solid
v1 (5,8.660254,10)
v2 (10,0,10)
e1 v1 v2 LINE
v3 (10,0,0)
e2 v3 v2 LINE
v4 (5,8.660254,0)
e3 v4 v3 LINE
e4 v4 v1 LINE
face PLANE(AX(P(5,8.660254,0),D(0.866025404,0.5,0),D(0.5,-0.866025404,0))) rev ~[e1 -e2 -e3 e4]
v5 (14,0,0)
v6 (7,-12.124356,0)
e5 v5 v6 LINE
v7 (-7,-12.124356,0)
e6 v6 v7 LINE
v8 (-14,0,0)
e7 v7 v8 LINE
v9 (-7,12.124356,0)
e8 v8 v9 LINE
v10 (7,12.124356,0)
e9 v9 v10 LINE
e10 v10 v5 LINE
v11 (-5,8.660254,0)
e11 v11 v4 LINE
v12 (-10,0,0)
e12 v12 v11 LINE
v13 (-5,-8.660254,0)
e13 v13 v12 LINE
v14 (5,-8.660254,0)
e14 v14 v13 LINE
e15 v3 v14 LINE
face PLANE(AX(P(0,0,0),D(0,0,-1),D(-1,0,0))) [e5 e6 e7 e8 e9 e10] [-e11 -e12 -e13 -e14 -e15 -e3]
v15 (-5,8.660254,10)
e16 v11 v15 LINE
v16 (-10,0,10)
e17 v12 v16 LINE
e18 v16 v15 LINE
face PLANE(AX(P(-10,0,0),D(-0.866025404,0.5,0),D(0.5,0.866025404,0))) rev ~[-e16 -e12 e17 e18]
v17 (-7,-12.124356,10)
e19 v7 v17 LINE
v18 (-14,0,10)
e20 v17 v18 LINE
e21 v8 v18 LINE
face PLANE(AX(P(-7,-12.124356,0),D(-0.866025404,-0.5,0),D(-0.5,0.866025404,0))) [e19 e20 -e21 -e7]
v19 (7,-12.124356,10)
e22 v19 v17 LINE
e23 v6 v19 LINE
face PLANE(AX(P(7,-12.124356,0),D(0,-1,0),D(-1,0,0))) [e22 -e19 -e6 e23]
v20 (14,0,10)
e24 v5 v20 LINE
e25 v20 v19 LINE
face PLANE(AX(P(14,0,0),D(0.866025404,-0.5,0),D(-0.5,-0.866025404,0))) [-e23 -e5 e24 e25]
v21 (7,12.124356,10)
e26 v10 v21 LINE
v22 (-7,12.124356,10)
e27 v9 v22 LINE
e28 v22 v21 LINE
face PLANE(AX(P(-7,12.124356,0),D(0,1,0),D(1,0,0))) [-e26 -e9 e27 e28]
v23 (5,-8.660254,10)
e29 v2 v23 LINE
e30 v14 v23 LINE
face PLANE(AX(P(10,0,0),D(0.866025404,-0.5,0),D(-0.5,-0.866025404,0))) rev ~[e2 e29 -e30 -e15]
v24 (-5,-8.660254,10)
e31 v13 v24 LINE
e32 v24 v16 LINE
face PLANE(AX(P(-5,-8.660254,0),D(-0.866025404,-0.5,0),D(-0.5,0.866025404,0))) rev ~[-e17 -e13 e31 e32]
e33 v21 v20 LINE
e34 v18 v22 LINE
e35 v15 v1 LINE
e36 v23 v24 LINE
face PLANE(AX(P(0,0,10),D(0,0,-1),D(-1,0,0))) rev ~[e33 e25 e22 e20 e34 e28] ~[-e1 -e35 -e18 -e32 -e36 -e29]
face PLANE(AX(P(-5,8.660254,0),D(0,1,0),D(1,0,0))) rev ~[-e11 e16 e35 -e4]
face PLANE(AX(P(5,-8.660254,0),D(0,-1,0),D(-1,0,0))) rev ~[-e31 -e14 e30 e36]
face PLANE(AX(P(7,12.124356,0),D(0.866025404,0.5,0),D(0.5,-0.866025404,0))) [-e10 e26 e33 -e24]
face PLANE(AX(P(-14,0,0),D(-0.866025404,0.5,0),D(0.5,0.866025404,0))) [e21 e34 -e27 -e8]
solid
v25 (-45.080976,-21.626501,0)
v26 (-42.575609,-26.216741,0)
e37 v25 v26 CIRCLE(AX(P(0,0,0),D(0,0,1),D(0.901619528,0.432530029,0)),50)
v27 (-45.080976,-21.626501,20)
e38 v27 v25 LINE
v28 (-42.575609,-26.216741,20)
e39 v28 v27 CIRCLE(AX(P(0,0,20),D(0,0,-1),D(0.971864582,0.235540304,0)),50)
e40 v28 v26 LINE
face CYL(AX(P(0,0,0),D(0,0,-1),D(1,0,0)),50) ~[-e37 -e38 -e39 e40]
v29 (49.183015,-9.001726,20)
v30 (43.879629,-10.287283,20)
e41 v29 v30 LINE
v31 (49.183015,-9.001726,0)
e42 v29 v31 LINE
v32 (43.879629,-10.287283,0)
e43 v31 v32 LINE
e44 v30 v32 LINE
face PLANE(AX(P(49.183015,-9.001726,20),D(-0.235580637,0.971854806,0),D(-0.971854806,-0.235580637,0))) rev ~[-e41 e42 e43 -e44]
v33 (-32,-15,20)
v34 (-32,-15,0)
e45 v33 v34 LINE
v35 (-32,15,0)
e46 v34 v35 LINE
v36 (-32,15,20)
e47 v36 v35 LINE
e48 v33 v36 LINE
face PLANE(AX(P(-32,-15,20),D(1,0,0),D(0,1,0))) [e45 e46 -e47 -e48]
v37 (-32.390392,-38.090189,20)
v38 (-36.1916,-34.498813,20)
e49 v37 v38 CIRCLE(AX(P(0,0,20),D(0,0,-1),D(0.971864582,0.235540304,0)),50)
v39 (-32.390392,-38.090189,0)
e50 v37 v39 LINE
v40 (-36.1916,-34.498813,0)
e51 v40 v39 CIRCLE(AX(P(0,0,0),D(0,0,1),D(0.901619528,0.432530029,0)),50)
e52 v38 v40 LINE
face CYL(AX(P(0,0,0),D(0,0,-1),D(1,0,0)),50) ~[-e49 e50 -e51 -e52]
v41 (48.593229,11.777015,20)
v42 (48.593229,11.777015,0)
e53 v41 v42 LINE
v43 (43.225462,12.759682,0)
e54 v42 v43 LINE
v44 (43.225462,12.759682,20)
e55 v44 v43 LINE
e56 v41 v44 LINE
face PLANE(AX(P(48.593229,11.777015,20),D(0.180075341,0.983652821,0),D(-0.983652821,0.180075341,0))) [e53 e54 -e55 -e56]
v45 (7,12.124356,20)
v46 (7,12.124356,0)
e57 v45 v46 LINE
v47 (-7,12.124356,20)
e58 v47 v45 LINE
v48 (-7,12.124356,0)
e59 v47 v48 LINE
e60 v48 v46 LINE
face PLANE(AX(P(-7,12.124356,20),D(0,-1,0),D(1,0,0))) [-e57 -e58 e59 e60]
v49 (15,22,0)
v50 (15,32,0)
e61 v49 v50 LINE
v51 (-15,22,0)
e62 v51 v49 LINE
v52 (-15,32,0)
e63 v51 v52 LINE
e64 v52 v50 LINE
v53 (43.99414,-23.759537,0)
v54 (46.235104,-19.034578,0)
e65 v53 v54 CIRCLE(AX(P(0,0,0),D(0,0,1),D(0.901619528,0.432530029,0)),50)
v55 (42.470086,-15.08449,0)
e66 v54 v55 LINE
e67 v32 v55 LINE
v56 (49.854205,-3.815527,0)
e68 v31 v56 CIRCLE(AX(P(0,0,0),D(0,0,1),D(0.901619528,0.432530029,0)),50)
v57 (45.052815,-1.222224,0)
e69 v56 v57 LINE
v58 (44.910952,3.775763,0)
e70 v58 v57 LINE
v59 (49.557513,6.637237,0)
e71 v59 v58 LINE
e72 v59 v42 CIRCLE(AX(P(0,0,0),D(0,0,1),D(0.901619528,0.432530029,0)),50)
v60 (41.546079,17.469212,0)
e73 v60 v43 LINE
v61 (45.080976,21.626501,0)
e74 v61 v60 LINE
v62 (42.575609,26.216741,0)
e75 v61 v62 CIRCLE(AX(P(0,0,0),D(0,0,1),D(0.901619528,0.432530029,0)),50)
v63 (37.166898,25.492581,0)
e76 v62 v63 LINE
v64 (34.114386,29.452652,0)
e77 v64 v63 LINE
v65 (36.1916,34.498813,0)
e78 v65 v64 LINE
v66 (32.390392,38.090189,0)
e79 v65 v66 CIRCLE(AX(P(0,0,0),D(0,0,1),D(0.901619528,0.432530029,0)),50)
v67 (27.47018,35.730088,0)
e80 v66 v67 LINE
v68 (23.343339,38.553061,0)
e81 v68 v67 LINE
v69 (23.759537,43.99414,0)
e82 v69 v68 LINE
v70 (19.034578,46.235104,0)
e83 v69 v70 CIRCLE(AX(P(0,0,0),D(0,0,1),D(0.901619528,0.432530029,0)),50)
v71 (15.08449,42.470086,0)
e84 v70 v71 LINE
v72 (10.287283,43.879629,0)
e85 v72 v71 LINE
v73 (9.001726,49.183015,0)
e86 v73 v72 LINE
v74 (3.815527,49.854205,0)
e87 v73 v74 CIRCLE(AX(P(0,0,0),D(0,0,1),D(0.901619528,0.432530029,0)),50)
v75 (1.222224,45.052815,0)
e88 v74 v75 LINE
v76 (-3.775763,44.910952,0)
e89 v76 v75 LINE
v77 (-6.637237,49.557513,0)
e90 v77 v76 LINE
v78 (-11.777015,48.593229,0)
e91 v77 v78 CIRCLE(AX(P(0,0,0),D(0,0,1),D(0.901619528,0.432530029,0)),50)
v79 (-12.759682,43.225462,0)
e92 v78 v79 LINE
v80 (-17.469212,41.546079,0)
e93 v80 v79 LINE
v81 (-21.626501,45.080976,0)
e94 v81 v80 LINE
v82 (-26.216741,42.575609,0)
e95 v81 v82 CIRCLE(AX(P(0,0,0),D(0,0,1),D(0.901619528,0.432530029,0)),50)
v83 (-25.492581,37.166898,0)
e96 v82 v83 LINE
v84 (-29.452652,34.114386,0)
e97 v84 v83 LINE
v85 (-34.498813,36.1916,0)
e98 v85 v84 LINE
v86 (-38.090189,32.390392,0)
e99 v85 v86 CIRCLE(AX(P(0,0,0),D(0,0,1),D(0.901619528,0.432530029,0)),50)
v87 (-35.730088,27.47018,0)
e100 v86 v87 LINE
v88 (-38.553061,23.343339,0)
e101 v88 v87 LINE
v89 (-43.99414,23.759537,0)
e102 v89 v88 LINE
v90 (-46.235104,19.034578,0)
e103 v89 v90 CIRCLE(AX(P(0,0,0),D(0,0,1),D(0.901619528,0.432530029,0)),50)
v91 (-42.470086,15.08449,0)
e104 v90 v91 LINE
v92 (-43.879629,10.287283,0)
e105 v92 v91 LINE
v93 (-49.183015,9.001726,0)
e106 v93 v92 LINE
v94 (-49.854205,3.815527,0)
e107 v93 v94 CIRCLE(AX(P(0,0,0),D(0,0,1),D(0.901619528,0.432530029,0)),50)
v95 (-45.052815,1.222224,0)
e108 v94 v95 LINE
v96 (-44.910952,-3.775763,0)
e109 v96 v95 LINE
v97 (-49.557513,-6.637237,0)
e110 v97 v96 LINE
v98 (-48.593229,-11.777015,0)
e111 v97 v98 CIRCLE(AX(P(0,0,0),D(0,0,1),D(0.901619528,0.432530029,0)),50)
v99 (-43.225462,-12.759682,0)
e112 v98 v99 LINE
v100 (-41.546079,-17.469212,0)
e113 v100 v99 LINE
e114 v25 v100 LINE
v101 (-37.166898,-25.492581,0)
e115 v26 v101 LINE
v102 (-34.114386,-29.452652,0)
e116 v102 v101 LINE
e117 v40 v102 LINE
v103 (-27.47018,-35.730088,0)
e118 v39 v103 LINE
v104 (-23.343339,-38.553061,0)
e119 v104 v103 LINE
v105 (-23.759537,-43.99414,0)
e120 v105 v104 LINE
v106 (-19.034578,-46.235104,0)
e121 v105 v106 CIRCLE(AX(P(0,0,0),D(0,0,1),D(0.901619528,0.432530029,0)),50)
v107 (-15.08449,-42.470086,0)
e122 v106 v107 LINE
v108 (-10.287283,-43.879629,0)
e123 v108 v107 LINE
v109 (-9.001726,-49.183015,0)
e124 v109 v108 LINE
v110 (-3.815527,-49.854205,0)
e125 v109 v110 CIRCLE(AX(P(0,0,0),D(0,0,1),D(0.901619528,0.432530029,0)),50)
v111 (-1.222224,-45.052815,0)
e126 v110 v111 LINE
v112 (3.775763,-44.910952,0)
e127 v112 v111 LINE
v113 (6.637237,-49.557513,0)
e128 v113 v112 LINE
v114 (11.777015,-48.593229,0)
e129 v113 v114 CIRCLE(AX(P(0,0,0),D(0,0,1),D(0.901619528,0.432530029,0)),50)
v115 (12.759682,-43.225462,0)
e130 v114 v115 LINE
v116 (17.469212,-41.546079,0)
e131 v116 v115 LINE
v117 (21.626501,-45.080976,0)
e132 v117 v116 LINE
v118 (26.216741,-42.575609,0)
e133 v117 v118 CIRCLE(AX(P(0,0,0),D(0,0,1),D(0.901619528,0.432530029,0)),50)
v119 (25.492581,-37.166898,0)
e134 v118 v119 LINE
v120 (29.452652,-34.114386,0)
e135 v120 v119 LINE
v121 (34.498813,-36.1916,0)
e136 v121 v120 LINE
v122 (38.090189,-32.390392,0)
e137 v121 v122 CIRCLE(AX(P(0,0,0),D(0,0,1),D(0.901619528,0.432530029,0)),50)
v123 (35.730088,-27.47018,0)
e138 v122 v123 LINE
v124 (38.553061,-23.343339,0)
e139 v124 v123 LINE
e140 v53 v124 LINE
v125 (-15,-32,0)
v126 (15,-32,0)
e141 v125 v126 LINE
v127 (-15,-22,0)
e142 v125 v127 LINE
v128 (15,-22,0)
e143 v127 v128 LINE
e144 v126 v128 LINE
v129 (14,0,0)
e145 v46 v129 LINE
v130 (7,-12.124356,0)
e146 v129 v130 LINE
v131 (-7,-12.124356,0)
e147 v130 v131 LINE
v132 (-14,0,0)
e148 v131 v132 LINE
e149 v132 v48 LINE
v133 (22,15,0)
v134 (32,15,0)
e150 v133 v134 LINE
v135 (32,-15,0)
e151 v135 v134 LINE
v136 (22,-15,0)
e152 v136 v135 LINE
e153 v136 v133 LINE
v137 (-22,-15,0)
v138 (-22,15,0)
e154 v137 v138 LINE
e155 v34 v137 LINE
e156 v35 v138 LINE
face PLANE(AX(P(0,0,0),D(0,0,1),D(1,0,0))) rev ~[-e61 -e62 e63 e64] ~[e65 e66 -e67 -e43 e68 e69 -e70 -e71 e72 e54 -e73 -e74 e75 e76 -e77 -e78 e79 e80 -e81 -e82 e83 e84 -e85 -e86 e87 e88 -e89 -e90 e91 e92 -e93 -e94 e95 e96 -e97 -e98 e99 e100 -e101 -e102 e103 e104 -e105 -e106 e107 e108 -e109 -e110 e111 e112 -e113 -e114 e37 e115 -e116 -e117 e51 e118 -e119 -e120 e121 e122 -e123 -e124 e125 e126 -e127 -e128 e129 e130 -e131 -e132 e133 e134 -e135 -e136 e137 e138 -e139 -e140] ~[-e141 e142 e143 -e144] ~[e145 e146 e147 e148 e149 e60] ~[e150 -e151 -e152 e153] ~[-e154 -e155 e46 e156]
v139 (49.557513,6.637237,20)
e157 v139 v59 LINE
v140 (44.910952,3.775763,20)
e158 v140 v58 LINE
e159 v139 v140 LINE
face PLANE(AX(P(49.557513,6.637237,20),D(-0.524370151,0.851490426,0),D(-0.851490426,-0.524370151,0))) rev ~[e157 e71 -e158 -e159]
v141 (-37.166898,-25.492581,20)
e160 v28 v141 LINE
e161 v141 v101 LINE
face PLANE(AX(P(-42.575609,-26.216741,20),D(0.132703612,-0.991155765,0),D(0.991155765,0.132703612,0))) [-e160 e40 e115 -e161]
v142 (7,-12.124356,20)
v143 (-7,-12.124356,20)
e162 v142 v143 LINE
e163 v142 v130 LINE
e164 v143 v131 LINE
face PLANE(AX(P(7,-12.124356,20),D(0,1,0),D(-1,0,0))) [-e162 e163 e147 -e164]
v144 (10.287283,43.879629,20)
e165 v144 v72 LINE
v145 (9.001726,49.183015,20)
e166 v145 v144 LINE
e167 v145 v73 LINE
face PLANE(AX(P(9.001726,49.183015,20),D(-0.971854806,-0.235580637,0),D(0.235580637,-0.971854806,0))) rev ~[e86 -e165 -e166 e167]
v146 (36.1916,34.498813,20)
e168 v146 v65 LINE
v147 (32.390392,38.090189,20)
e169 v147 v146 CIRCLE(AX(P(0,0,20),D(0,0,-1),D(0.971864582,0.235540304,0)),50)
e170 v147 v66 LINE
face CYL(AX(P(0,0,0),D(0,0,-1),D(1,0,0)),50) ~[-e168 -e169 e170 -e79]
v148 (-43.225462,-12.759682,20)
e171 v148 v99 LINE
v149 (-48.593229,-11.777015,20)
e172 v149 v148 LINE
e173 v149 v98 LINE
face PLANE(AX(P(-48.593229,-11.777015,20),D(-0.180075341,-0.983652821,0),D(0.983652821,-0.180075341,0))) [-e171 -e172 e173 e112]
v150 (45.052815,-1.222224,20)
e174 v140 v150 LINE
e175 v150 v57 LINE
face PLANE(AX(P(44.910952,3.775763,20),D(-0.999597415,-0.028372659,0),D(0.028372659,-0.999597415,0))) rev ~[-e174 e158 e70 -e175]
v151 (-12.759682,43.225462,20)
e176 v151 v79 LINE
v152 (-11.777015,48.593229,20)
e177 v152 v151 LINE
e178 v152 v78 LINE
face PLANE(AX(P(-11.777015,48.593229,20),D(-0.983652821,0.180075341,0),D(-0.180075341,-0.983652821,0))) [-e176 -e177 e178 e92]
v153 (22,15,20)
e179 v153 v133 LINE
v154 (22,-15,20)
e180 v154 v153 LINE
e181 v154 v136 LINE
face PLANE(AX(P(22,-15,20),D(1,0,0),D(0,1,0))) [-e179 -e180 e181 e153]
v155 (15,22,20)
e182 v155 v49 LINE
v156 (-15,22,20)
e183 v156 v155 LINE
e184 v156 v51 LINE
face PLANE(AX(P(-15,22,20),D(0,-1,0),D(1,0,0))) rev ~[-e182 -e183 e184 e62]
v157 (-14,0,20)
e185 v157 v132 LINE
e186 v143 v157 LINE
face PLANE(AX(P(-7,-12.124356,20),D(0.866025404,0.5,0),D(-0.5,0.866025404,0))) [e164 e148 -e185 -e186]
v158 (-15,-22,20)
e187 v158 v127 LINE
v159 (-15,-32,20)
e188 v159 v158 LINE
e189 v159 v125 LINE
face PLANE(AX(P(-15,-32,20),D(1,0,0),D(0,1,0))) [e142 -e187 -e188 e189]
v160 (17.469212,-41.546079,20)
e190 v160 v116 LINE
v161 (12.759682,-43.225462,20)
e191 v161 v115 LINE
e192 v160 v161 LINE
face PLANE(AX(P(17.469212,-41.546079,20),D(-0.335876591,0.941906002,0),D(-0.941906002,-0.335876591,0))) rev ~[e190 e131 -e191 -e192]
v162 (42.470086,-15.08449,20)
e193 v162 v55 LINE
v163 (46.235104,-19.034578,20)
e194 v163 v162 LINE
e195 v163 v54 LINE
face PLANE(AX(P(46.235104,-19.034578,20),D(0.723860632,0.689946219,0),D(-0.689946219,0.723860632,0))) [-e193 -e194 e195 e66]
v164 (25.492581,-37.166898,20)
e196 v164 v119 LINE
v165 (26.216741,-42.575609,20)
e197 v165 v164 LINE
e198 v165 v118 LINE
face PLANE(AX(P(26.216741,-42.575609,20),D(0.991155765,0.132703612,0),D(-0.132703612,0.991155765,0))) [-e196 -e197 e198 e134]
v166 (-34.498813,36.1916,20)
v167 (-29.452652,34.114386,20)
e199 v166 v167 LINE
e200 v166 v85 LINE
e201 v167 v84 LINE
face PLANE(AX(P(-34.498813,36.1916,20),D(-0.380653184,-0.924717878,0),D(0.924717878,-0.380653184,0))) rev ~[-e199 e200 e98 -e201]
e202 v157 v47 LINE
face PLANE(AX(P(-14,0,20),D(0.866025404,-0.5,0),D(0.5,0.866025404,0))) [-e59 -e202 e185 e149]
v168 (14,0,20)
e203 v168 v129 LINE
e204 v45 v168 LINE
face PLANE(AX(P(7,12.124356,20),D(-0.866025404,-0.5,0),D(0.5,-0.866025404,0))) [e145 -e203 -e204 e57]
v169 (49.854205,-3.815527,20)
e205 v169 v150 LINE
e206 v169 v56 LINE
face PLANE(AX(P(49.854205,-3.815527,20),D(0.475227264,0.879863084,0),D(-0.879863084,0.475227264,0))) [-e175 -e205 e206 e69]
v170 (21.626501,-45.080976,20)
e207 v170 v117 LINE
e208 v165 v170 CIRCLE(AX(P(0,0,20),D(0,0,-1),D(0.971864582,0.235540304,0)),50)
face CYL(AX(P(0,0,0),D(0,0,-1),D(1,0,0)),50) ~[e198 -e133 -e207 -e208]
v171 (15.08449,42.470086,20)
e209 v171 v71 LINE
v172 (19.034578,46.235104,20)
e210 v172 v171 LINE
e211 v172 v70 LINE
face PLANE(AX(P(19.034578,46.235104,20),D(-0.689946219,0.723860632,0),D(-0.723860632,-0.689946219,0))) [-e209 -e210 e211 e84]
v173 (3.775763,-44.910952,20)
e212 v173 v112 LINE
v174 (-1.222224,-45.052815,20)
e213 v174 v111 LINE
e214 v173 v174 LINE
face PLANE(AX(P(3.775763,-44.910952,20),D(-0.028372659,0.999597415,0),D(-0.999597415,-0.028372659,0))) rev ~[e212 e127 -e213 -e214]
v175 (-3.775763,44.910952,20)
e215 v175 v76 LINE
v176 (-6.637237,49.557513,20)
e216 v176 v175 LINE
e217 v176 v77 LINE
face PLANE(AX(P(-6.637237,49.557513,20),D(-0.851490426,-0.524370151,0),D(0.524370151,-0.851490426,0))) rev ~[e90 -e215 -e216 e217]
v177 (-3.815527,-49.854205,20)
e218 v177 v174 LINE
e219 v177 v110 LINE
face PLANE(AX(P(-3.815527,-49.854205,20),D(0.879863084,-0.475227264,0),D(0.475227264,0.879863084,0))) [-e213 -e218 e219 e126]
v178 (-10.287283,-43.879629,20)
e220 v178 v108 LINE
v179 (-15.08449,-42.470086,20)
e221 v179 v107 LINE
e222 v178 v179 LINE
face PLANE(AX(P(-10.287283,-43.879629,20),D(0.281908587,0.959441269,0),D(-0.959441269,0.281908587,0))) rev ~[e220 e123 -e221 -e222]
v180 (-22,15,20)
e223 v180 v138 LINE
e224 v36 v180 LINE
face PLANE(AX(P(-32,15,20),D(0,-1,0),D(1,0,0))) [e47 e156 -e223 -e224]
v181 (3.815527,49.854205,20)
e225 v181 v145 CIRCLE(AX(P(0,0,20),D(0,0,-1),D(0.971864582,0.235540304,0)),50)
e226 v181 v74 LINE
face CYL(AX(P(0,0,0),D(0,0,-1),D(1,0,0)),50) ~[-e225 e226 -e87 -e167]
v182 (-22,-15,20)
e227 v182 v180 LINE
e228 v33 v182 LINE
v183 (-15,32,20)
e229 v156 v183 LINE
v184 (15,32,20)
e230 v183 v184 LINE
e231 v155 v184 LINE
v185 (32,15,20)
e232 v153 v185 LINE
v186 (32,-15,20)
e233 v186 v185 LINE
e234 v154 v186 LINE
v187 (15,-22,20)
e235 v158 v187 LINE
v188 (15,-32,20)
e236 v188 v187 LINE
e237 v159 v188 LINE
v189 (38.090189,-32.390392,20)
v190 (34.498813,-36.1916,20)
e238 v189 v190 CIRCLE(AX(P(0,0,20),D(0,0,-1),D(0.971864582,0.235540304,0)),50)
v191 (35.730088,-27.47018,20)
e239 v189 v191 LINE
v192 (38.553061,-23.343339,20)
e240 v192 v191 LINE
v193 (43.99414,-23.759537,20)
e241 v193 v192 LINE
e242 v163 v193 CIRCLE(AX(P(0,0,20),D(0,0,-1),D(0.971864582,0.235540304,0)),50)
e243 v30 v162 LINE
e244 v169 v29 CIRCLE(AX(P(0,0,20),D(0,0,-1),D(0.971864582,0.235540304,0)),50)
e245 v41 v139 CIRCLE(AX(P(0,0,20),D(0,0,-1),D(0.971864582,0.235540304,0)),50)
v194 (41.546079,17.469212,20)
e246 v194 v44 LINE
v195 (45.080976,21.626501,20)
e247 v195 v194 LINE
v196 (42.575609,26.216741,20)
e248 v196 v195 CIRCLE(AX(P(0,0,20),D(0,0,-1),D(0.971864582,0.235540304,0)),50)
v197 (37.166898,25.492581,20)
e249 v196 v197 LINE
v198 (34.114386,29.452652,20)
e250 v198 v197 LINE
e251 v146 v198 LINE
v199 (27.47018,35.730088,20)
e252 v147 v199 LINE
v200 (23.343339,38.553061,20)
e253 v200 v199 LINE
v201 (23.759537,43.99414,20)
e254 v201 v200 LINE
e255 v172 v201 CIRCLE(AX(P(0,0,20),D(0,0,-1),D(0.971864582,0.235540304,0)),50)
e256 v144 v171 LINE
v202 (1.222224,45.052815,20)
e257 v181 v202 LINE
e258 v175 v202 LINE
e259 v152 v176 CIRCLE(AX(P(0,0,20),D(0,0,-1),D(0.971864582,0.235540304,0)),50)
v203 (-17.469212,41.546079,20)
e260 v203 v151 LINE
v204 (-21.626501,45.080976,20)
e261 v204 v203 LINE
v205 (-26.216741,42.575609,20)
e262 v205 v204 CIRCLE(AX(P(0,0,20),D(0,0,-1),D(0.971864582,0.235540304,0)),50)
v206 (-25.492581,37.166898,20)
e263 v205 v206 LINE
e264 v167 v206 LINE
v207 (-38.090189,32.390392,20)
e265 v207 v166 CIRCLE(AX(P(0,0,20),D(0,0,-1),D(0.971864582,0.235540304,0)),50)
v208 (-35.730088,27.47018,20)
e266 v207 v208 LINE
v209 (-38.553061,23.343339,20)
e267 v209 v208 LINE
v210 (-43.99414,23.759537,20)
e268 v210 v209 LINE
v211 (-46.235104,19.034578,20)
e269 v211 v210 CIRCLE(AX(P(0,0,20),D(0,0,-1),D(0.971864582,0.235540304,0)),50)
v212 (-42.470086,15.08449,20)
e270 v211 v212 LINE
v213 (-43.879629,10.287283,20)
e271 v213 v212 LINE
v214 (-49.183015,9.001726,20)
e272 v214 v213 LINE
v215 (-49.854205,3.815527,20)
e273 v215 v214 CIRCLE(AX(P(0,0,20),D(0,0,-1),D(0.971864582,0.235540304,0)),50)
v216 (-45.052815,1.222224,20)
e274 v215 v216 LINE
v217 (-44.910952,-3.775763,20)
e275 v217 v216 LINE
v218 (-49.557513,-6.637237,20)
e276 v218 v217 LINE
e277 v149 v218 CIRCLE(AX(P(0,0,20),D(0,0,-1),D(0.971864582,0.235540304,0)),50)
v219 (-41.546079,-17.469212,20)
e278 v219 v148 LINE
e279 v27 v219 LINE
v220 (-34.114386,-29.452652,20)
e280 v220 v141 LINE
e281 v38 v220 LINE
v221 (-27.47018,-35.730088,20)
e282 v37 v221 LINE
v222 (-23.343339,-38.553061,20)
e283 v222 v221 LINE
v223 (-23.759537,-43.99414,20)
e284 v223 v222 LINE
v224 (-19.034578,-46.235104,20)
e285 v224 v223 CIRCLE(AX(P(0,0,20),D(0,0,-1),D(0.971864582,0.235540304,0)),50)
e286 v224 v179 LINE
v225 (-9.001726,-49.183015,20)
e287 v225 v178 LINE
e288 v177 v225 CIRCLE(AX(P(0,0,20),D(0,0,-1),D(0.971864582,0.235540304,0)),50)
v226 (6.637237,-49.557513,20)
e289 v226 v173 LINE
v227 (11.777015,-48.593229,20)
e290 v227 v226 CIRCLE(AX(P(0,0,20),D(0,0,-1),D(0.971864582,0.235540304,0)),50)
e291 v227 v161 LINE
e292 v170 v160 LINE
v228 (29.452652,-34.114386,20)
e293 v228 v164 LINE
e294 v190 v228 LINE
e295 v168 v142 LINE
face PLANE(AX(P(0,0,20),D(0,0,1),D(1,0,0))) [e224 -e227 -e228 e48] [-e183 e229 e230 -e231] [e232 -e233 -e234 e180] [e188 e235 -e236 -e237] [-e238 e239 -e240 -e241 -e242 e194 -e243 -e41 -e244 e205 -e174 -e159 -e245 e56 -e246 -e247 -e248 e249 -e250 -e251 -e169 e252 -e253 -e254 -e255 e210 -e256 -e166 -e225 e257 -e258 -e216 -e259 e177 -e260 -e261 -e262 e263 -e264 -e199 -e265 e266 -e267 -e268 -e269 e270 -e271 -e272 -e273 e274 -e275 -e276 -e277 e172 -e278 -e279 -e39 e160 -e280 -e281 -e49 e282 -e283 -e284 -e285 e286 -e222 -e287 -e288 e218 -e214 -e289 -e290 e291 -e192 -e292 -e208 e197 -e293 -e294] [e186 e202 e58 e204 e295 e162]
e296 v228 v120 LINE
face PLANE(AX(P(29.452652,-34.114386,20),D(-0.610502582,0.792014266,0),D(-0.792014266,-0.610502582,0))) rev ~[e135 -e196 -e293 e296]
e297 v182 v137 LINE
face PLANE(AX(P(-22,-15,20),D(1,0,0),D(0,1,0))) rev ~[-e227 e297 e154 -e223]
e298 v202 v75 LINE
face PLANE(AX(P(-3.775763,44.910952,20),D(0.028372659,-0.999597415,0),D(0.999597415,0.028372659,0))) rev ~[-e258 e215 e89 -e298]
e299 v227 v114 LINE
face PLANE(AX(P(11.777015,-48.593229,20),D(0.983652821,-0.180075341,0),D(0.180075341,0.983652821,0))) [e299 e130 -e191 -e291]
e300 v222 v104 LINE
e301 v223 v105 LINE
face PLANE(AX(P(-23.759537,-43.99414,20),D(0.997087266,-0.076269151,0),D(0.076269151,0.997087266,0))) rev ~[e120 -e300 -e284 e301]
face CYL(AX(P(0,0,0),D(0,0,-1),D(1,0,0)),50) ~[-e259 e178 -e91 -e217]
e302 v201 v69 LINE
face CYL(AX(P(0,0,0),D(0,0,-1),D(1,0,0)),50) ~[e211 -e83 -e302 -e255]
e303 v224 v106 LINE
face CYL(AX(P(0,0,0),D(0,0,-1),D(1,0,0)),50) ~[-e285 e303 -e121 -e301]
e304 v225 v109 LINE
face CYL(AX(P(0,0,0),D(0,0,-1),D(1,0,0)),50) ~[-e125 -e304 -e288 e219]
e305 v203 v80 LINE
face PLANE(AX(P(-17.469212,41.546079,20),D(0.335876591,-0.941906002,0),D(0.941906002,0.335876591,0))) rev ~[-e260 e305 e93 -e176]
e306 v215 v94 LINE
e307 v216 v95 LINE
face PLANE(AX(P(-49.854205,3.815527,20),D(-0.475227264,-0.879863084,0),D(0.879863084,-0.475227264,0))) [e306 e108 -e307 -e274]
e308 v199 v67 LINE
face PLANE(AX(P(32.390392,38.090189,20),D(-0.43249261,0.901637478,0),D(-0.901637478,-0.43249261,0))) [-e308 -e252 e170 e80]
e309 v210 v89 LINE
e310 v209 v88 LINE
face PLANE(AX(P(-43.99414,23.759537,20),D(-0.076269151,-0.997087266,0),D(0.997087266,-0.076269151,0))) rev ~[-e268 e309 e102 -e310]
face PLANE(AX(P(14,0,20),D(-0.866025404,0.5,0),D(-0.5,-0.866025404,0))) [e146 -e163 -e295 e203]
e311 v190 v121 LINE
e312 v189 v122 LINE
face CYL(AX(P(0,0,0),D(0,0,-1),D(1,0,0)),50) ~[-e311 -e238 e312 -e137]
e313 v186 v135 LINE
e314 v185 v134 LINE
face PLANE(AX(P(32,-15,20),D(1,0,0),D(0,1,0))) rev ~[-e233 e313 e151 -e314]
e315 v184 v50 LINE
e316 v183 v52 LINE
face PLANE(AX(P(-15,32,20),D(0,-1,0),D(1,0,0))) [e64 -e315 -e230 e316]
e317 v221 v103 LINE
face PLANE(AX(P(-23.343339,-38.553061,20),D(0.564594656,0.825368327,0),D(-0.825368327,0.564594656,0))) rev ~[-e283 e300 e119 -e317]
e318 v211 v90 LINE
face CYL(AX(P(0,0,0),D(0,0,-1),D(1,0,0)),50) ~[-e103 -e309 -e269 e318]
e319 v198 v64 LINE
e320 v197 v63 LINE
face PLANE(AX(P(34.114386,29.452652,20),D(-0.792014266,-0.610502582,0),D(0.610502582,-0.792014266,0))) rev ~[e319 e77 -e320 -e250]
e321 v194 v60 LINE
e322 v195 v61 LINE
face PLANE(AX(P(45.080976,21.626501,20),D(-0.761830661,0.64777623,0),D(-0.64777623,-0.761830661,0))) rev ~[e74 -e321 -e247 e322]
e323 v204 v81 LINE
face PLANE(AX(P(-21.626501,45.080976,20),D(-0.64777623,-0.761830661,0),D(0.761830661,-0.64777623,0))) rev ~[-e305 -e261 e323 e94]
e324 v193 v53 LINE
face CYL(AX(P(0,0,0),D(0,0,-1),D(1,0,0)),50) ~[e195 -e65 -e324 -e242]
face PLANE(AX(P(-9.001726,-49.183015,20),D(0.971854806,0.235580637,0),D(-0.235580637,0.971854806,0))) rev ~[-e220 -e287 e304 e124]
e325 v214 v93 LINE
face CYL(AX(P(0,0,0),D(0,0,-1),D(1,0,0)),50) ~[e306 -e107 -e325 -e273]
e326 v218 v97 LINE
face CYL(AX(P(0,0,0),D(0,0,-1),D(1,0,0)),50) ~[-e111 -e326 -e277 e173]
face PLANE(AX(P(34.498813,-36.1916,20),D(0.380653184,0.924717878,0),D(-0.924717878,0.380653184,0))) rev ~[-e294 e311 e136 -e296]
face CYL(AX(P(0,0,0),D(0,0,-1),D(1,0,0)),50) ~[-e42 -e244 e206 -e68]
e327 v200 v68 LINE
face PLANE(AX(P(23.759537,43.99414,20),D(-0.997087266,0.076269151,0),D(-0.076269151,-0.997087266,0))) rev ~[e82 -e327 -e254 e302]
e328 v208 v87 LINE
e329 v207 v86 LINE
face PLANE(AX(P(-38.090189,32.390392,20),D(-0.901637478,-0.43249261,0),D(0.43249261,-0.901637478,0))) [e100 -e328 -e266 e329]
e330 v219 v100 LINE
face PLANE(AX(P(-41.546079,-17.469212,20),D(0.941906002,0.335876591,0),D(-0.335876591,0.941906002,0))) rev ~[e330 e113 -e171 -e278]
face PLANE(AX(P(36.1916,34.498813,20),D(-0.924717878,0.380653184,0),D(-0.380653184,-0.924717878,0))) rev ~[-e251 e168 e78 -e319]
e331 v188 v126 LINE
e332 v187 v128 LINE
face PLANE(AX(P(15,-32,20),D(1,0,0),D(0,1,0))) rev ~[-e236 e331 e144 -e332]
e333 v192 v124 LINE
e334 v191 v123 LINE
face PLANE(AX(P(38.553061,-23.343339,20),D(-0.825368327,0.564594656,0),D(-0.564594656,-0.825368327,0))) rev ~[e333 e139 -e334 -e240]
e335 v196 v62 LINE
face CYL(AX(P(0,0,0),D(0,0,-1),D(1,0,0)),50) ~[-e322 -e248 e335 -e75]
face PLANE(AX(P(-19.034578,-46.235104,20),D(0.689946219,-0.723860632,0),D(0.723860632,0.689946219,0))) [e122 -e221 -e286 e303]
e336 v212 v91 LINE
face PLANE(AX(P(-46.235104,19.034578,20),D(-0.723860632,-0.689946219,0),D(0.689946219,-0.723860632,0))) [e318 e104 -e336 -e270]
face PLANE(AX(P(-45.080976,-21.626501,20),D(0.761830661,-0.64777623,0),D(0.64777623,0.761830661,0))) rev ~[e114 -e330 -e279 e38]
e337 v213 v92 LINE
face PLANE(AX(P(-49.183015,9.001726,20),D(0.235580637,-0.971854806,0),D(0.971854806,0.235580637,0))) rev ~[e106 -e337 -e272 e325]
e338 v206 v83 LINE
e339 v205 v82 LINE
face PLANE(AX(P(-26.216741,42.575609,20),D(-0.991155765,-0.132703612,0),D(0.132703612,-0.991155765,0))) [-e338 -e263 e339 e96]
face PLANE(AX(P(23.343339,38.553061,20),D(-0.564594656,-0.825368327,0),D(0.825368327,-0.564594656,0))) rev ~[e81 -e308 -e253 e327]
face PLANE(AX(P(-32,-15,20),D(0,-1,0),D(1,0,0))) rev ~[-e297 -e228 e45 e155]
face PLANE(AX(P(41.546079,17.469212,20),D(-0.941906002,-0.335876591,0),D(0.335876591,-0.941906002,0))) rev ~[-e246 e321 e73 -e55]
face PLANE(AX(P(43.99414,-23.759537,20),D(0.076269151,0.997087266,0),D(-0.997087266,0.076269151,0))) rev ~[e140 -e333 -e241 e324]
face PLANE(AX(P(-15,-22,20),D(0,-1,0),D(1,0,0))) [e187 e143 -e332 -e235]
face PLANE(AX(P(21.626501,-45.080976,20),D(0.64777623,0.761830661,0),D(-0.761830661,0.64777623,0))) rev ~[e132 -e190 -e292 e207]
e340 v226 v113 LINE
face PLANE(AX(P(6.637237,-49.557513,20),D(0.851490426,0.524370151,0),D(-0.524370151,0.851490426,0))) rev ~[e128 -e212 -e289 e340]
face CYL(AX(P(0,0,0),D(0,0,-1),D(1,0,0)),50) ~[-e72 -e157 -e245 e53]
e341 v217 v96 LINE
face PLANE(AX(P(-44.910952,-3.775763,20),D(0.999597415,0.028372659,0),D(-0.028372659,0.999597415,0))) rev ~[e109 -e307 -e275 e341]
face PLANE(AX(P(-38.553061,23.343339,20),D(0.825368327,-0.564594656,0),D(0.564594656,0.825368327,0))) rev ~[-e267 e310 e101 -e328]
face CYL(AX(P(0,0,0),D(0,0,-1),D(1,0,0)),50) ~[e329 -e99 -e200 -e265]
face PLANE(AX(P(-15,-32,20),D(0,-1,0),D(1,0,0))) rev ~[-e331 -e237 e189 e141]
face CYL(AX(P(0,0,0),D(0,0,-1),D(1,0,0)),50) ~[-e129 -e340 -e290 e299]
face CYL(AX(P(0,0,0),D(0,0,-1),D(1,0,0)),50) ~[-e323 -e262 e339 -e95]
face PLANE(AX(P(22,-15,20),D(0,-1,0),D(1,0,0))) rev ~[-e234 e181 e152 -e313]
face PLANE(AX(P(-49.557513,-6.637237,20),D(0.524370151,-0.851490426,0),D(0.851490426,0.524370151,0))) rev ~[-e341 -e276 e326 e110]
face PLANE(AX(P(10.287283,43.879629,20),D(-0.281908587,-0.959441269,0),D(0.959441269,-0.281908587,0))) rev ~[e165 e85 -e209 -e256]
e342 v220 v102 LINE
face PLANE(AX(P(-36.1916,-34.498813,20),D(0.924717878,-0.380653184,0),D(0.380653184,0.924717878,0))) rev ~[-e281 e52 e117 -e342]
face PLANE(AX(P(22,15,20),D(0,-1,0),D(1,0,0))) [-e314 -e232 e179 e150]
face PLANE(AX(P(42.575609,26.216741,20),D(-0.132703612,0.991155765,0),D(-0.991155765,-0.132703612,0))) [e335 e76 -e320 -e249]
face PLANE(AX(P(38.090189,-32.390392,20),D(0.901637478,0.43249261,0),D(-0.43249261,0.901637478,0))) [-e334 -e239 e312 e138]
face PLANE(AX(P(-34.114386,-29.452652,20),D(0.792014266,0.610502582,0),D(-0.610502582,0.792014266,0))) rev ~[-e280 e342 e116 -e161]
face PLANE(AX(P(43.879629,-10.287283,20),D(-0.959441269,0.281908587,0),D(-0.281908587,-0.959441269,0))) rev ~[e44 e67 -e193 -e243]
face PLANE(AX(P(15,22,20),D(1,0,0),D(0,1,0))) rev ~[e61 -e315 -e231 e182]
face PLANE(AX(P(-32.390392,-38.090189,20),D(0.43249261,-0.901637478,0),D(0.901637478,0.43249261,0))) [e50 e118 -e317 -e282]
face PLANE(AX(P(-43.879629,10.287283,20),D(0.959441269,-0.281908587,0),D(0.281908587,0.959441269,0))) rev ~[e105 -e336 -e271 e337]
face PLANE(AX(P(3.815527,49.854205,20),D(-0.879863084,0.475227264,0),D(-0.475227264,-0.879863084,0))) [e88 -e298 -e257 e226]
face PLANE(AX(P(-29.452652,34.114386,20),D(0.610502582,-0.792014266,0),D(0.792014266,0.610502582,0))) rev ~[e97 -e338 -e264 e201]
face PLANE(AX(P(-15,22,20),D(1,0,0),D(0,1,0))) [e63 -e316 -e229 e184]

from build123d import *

# Parameters (mm, degrees)
SKETCH_R           = 50
PAD_DEPTH          = 20
POCKET_DEPTH       = 20
POLARPATTERN_COUNT = 20
SKETCH003_W        = 30
SKETCH003_H        = 10
SKETCH003_W_2      = 10
SKETCH003_H_2      = 30
POCKET001_DEPTH    = 20
PAD001_DEPTH       = 10


with BuildPart() as nutpad:
    # Sketch → Pad (new body)
    with BuildSketch(Plane.XY):
        Circle(SKETCH_R)
    extrude(amount=PAD_DEPTH)

    # Sketch002 → Pocket (cut)
    with BuildSketch(Plane.XY.offset(20)):
        with BuildLine():
            ThreePointArc((48.5932290893, 11.7770151853), (47.0953000791, 16.7938295353), (45.0809764245, 21.6265014419))
            Line((45.0809764245, 21.6265014419), (41.5460785944, 17.4692115857))
            Line((41.5460785944, 17.4692115857), (43.2254615479, 12.7596815778))
            Line((48.5932290893, 11.7770151853), (43.2254615479, 12.7596815778))
        make_face()
    pocket = extrude(amount=-POCKET_DEPTH, mode=Mode.SUBTRACT)

    # PolarPattern: Pocket ×20 about axis
    polarpattern_axis = Axis((0, 0, 20), (0, 0, 1))
    for i in range(1, POLARPATTERN_COUNT):
        add(pocket.rotate(polarpattern_axis, i * 360 / POLARPATTERN_COUNT), mode=Mode.SUBTRACT)

    # Sketch003 → Pocket001 (cut)
    with BuildSketch(Plane.XY.offset(20)):
        Polygon((-7, 12.124355653), (7, 12.124355653), (14, 0), (7, -12.124355653), (-7, -12.124355653), (-14, 0), align=None)
        with Locations((0, -27)):
            Rectangle(SKETCH003_W, SKETCH003_H)
        with Locations((0, 27)):
            Rectangle(SKETCH003_W, SKETCH003_H)
        with Locations((-27, 0)):
            Rectangle(SKETCH003_W_2, SKETCH003_H_2)
        with Locations((27, 0)):
            Rectangle(SKETCH003_W_2, SKETCH003_H_2)
    extrude(amount=-POCKET001_DEPTH, mode=Mode.SUBTRACT)


with BuildPart() as nutbreak:
    # Sketch004 → Pad001 (new body)
    with BuildSketch(Plane.XY):
        Polygon((-7, 12.124355653), (7, 12.124355653), (14, 0), (7, -12.124355653), (-7, -12.124355653), (-14, 0), align=None)
        Polygon((-5, 8.6602540378), (5, 8.6602540378), (10, 0), (5, -8.6602540378), (-5, -8.6602540378), (-10, 0), align=None, mode=Mode.SUBTRACT)
    extrude(amount=PAD001_DEPTH)


solid = Compound([nutpad.part, nutbreak.part])
